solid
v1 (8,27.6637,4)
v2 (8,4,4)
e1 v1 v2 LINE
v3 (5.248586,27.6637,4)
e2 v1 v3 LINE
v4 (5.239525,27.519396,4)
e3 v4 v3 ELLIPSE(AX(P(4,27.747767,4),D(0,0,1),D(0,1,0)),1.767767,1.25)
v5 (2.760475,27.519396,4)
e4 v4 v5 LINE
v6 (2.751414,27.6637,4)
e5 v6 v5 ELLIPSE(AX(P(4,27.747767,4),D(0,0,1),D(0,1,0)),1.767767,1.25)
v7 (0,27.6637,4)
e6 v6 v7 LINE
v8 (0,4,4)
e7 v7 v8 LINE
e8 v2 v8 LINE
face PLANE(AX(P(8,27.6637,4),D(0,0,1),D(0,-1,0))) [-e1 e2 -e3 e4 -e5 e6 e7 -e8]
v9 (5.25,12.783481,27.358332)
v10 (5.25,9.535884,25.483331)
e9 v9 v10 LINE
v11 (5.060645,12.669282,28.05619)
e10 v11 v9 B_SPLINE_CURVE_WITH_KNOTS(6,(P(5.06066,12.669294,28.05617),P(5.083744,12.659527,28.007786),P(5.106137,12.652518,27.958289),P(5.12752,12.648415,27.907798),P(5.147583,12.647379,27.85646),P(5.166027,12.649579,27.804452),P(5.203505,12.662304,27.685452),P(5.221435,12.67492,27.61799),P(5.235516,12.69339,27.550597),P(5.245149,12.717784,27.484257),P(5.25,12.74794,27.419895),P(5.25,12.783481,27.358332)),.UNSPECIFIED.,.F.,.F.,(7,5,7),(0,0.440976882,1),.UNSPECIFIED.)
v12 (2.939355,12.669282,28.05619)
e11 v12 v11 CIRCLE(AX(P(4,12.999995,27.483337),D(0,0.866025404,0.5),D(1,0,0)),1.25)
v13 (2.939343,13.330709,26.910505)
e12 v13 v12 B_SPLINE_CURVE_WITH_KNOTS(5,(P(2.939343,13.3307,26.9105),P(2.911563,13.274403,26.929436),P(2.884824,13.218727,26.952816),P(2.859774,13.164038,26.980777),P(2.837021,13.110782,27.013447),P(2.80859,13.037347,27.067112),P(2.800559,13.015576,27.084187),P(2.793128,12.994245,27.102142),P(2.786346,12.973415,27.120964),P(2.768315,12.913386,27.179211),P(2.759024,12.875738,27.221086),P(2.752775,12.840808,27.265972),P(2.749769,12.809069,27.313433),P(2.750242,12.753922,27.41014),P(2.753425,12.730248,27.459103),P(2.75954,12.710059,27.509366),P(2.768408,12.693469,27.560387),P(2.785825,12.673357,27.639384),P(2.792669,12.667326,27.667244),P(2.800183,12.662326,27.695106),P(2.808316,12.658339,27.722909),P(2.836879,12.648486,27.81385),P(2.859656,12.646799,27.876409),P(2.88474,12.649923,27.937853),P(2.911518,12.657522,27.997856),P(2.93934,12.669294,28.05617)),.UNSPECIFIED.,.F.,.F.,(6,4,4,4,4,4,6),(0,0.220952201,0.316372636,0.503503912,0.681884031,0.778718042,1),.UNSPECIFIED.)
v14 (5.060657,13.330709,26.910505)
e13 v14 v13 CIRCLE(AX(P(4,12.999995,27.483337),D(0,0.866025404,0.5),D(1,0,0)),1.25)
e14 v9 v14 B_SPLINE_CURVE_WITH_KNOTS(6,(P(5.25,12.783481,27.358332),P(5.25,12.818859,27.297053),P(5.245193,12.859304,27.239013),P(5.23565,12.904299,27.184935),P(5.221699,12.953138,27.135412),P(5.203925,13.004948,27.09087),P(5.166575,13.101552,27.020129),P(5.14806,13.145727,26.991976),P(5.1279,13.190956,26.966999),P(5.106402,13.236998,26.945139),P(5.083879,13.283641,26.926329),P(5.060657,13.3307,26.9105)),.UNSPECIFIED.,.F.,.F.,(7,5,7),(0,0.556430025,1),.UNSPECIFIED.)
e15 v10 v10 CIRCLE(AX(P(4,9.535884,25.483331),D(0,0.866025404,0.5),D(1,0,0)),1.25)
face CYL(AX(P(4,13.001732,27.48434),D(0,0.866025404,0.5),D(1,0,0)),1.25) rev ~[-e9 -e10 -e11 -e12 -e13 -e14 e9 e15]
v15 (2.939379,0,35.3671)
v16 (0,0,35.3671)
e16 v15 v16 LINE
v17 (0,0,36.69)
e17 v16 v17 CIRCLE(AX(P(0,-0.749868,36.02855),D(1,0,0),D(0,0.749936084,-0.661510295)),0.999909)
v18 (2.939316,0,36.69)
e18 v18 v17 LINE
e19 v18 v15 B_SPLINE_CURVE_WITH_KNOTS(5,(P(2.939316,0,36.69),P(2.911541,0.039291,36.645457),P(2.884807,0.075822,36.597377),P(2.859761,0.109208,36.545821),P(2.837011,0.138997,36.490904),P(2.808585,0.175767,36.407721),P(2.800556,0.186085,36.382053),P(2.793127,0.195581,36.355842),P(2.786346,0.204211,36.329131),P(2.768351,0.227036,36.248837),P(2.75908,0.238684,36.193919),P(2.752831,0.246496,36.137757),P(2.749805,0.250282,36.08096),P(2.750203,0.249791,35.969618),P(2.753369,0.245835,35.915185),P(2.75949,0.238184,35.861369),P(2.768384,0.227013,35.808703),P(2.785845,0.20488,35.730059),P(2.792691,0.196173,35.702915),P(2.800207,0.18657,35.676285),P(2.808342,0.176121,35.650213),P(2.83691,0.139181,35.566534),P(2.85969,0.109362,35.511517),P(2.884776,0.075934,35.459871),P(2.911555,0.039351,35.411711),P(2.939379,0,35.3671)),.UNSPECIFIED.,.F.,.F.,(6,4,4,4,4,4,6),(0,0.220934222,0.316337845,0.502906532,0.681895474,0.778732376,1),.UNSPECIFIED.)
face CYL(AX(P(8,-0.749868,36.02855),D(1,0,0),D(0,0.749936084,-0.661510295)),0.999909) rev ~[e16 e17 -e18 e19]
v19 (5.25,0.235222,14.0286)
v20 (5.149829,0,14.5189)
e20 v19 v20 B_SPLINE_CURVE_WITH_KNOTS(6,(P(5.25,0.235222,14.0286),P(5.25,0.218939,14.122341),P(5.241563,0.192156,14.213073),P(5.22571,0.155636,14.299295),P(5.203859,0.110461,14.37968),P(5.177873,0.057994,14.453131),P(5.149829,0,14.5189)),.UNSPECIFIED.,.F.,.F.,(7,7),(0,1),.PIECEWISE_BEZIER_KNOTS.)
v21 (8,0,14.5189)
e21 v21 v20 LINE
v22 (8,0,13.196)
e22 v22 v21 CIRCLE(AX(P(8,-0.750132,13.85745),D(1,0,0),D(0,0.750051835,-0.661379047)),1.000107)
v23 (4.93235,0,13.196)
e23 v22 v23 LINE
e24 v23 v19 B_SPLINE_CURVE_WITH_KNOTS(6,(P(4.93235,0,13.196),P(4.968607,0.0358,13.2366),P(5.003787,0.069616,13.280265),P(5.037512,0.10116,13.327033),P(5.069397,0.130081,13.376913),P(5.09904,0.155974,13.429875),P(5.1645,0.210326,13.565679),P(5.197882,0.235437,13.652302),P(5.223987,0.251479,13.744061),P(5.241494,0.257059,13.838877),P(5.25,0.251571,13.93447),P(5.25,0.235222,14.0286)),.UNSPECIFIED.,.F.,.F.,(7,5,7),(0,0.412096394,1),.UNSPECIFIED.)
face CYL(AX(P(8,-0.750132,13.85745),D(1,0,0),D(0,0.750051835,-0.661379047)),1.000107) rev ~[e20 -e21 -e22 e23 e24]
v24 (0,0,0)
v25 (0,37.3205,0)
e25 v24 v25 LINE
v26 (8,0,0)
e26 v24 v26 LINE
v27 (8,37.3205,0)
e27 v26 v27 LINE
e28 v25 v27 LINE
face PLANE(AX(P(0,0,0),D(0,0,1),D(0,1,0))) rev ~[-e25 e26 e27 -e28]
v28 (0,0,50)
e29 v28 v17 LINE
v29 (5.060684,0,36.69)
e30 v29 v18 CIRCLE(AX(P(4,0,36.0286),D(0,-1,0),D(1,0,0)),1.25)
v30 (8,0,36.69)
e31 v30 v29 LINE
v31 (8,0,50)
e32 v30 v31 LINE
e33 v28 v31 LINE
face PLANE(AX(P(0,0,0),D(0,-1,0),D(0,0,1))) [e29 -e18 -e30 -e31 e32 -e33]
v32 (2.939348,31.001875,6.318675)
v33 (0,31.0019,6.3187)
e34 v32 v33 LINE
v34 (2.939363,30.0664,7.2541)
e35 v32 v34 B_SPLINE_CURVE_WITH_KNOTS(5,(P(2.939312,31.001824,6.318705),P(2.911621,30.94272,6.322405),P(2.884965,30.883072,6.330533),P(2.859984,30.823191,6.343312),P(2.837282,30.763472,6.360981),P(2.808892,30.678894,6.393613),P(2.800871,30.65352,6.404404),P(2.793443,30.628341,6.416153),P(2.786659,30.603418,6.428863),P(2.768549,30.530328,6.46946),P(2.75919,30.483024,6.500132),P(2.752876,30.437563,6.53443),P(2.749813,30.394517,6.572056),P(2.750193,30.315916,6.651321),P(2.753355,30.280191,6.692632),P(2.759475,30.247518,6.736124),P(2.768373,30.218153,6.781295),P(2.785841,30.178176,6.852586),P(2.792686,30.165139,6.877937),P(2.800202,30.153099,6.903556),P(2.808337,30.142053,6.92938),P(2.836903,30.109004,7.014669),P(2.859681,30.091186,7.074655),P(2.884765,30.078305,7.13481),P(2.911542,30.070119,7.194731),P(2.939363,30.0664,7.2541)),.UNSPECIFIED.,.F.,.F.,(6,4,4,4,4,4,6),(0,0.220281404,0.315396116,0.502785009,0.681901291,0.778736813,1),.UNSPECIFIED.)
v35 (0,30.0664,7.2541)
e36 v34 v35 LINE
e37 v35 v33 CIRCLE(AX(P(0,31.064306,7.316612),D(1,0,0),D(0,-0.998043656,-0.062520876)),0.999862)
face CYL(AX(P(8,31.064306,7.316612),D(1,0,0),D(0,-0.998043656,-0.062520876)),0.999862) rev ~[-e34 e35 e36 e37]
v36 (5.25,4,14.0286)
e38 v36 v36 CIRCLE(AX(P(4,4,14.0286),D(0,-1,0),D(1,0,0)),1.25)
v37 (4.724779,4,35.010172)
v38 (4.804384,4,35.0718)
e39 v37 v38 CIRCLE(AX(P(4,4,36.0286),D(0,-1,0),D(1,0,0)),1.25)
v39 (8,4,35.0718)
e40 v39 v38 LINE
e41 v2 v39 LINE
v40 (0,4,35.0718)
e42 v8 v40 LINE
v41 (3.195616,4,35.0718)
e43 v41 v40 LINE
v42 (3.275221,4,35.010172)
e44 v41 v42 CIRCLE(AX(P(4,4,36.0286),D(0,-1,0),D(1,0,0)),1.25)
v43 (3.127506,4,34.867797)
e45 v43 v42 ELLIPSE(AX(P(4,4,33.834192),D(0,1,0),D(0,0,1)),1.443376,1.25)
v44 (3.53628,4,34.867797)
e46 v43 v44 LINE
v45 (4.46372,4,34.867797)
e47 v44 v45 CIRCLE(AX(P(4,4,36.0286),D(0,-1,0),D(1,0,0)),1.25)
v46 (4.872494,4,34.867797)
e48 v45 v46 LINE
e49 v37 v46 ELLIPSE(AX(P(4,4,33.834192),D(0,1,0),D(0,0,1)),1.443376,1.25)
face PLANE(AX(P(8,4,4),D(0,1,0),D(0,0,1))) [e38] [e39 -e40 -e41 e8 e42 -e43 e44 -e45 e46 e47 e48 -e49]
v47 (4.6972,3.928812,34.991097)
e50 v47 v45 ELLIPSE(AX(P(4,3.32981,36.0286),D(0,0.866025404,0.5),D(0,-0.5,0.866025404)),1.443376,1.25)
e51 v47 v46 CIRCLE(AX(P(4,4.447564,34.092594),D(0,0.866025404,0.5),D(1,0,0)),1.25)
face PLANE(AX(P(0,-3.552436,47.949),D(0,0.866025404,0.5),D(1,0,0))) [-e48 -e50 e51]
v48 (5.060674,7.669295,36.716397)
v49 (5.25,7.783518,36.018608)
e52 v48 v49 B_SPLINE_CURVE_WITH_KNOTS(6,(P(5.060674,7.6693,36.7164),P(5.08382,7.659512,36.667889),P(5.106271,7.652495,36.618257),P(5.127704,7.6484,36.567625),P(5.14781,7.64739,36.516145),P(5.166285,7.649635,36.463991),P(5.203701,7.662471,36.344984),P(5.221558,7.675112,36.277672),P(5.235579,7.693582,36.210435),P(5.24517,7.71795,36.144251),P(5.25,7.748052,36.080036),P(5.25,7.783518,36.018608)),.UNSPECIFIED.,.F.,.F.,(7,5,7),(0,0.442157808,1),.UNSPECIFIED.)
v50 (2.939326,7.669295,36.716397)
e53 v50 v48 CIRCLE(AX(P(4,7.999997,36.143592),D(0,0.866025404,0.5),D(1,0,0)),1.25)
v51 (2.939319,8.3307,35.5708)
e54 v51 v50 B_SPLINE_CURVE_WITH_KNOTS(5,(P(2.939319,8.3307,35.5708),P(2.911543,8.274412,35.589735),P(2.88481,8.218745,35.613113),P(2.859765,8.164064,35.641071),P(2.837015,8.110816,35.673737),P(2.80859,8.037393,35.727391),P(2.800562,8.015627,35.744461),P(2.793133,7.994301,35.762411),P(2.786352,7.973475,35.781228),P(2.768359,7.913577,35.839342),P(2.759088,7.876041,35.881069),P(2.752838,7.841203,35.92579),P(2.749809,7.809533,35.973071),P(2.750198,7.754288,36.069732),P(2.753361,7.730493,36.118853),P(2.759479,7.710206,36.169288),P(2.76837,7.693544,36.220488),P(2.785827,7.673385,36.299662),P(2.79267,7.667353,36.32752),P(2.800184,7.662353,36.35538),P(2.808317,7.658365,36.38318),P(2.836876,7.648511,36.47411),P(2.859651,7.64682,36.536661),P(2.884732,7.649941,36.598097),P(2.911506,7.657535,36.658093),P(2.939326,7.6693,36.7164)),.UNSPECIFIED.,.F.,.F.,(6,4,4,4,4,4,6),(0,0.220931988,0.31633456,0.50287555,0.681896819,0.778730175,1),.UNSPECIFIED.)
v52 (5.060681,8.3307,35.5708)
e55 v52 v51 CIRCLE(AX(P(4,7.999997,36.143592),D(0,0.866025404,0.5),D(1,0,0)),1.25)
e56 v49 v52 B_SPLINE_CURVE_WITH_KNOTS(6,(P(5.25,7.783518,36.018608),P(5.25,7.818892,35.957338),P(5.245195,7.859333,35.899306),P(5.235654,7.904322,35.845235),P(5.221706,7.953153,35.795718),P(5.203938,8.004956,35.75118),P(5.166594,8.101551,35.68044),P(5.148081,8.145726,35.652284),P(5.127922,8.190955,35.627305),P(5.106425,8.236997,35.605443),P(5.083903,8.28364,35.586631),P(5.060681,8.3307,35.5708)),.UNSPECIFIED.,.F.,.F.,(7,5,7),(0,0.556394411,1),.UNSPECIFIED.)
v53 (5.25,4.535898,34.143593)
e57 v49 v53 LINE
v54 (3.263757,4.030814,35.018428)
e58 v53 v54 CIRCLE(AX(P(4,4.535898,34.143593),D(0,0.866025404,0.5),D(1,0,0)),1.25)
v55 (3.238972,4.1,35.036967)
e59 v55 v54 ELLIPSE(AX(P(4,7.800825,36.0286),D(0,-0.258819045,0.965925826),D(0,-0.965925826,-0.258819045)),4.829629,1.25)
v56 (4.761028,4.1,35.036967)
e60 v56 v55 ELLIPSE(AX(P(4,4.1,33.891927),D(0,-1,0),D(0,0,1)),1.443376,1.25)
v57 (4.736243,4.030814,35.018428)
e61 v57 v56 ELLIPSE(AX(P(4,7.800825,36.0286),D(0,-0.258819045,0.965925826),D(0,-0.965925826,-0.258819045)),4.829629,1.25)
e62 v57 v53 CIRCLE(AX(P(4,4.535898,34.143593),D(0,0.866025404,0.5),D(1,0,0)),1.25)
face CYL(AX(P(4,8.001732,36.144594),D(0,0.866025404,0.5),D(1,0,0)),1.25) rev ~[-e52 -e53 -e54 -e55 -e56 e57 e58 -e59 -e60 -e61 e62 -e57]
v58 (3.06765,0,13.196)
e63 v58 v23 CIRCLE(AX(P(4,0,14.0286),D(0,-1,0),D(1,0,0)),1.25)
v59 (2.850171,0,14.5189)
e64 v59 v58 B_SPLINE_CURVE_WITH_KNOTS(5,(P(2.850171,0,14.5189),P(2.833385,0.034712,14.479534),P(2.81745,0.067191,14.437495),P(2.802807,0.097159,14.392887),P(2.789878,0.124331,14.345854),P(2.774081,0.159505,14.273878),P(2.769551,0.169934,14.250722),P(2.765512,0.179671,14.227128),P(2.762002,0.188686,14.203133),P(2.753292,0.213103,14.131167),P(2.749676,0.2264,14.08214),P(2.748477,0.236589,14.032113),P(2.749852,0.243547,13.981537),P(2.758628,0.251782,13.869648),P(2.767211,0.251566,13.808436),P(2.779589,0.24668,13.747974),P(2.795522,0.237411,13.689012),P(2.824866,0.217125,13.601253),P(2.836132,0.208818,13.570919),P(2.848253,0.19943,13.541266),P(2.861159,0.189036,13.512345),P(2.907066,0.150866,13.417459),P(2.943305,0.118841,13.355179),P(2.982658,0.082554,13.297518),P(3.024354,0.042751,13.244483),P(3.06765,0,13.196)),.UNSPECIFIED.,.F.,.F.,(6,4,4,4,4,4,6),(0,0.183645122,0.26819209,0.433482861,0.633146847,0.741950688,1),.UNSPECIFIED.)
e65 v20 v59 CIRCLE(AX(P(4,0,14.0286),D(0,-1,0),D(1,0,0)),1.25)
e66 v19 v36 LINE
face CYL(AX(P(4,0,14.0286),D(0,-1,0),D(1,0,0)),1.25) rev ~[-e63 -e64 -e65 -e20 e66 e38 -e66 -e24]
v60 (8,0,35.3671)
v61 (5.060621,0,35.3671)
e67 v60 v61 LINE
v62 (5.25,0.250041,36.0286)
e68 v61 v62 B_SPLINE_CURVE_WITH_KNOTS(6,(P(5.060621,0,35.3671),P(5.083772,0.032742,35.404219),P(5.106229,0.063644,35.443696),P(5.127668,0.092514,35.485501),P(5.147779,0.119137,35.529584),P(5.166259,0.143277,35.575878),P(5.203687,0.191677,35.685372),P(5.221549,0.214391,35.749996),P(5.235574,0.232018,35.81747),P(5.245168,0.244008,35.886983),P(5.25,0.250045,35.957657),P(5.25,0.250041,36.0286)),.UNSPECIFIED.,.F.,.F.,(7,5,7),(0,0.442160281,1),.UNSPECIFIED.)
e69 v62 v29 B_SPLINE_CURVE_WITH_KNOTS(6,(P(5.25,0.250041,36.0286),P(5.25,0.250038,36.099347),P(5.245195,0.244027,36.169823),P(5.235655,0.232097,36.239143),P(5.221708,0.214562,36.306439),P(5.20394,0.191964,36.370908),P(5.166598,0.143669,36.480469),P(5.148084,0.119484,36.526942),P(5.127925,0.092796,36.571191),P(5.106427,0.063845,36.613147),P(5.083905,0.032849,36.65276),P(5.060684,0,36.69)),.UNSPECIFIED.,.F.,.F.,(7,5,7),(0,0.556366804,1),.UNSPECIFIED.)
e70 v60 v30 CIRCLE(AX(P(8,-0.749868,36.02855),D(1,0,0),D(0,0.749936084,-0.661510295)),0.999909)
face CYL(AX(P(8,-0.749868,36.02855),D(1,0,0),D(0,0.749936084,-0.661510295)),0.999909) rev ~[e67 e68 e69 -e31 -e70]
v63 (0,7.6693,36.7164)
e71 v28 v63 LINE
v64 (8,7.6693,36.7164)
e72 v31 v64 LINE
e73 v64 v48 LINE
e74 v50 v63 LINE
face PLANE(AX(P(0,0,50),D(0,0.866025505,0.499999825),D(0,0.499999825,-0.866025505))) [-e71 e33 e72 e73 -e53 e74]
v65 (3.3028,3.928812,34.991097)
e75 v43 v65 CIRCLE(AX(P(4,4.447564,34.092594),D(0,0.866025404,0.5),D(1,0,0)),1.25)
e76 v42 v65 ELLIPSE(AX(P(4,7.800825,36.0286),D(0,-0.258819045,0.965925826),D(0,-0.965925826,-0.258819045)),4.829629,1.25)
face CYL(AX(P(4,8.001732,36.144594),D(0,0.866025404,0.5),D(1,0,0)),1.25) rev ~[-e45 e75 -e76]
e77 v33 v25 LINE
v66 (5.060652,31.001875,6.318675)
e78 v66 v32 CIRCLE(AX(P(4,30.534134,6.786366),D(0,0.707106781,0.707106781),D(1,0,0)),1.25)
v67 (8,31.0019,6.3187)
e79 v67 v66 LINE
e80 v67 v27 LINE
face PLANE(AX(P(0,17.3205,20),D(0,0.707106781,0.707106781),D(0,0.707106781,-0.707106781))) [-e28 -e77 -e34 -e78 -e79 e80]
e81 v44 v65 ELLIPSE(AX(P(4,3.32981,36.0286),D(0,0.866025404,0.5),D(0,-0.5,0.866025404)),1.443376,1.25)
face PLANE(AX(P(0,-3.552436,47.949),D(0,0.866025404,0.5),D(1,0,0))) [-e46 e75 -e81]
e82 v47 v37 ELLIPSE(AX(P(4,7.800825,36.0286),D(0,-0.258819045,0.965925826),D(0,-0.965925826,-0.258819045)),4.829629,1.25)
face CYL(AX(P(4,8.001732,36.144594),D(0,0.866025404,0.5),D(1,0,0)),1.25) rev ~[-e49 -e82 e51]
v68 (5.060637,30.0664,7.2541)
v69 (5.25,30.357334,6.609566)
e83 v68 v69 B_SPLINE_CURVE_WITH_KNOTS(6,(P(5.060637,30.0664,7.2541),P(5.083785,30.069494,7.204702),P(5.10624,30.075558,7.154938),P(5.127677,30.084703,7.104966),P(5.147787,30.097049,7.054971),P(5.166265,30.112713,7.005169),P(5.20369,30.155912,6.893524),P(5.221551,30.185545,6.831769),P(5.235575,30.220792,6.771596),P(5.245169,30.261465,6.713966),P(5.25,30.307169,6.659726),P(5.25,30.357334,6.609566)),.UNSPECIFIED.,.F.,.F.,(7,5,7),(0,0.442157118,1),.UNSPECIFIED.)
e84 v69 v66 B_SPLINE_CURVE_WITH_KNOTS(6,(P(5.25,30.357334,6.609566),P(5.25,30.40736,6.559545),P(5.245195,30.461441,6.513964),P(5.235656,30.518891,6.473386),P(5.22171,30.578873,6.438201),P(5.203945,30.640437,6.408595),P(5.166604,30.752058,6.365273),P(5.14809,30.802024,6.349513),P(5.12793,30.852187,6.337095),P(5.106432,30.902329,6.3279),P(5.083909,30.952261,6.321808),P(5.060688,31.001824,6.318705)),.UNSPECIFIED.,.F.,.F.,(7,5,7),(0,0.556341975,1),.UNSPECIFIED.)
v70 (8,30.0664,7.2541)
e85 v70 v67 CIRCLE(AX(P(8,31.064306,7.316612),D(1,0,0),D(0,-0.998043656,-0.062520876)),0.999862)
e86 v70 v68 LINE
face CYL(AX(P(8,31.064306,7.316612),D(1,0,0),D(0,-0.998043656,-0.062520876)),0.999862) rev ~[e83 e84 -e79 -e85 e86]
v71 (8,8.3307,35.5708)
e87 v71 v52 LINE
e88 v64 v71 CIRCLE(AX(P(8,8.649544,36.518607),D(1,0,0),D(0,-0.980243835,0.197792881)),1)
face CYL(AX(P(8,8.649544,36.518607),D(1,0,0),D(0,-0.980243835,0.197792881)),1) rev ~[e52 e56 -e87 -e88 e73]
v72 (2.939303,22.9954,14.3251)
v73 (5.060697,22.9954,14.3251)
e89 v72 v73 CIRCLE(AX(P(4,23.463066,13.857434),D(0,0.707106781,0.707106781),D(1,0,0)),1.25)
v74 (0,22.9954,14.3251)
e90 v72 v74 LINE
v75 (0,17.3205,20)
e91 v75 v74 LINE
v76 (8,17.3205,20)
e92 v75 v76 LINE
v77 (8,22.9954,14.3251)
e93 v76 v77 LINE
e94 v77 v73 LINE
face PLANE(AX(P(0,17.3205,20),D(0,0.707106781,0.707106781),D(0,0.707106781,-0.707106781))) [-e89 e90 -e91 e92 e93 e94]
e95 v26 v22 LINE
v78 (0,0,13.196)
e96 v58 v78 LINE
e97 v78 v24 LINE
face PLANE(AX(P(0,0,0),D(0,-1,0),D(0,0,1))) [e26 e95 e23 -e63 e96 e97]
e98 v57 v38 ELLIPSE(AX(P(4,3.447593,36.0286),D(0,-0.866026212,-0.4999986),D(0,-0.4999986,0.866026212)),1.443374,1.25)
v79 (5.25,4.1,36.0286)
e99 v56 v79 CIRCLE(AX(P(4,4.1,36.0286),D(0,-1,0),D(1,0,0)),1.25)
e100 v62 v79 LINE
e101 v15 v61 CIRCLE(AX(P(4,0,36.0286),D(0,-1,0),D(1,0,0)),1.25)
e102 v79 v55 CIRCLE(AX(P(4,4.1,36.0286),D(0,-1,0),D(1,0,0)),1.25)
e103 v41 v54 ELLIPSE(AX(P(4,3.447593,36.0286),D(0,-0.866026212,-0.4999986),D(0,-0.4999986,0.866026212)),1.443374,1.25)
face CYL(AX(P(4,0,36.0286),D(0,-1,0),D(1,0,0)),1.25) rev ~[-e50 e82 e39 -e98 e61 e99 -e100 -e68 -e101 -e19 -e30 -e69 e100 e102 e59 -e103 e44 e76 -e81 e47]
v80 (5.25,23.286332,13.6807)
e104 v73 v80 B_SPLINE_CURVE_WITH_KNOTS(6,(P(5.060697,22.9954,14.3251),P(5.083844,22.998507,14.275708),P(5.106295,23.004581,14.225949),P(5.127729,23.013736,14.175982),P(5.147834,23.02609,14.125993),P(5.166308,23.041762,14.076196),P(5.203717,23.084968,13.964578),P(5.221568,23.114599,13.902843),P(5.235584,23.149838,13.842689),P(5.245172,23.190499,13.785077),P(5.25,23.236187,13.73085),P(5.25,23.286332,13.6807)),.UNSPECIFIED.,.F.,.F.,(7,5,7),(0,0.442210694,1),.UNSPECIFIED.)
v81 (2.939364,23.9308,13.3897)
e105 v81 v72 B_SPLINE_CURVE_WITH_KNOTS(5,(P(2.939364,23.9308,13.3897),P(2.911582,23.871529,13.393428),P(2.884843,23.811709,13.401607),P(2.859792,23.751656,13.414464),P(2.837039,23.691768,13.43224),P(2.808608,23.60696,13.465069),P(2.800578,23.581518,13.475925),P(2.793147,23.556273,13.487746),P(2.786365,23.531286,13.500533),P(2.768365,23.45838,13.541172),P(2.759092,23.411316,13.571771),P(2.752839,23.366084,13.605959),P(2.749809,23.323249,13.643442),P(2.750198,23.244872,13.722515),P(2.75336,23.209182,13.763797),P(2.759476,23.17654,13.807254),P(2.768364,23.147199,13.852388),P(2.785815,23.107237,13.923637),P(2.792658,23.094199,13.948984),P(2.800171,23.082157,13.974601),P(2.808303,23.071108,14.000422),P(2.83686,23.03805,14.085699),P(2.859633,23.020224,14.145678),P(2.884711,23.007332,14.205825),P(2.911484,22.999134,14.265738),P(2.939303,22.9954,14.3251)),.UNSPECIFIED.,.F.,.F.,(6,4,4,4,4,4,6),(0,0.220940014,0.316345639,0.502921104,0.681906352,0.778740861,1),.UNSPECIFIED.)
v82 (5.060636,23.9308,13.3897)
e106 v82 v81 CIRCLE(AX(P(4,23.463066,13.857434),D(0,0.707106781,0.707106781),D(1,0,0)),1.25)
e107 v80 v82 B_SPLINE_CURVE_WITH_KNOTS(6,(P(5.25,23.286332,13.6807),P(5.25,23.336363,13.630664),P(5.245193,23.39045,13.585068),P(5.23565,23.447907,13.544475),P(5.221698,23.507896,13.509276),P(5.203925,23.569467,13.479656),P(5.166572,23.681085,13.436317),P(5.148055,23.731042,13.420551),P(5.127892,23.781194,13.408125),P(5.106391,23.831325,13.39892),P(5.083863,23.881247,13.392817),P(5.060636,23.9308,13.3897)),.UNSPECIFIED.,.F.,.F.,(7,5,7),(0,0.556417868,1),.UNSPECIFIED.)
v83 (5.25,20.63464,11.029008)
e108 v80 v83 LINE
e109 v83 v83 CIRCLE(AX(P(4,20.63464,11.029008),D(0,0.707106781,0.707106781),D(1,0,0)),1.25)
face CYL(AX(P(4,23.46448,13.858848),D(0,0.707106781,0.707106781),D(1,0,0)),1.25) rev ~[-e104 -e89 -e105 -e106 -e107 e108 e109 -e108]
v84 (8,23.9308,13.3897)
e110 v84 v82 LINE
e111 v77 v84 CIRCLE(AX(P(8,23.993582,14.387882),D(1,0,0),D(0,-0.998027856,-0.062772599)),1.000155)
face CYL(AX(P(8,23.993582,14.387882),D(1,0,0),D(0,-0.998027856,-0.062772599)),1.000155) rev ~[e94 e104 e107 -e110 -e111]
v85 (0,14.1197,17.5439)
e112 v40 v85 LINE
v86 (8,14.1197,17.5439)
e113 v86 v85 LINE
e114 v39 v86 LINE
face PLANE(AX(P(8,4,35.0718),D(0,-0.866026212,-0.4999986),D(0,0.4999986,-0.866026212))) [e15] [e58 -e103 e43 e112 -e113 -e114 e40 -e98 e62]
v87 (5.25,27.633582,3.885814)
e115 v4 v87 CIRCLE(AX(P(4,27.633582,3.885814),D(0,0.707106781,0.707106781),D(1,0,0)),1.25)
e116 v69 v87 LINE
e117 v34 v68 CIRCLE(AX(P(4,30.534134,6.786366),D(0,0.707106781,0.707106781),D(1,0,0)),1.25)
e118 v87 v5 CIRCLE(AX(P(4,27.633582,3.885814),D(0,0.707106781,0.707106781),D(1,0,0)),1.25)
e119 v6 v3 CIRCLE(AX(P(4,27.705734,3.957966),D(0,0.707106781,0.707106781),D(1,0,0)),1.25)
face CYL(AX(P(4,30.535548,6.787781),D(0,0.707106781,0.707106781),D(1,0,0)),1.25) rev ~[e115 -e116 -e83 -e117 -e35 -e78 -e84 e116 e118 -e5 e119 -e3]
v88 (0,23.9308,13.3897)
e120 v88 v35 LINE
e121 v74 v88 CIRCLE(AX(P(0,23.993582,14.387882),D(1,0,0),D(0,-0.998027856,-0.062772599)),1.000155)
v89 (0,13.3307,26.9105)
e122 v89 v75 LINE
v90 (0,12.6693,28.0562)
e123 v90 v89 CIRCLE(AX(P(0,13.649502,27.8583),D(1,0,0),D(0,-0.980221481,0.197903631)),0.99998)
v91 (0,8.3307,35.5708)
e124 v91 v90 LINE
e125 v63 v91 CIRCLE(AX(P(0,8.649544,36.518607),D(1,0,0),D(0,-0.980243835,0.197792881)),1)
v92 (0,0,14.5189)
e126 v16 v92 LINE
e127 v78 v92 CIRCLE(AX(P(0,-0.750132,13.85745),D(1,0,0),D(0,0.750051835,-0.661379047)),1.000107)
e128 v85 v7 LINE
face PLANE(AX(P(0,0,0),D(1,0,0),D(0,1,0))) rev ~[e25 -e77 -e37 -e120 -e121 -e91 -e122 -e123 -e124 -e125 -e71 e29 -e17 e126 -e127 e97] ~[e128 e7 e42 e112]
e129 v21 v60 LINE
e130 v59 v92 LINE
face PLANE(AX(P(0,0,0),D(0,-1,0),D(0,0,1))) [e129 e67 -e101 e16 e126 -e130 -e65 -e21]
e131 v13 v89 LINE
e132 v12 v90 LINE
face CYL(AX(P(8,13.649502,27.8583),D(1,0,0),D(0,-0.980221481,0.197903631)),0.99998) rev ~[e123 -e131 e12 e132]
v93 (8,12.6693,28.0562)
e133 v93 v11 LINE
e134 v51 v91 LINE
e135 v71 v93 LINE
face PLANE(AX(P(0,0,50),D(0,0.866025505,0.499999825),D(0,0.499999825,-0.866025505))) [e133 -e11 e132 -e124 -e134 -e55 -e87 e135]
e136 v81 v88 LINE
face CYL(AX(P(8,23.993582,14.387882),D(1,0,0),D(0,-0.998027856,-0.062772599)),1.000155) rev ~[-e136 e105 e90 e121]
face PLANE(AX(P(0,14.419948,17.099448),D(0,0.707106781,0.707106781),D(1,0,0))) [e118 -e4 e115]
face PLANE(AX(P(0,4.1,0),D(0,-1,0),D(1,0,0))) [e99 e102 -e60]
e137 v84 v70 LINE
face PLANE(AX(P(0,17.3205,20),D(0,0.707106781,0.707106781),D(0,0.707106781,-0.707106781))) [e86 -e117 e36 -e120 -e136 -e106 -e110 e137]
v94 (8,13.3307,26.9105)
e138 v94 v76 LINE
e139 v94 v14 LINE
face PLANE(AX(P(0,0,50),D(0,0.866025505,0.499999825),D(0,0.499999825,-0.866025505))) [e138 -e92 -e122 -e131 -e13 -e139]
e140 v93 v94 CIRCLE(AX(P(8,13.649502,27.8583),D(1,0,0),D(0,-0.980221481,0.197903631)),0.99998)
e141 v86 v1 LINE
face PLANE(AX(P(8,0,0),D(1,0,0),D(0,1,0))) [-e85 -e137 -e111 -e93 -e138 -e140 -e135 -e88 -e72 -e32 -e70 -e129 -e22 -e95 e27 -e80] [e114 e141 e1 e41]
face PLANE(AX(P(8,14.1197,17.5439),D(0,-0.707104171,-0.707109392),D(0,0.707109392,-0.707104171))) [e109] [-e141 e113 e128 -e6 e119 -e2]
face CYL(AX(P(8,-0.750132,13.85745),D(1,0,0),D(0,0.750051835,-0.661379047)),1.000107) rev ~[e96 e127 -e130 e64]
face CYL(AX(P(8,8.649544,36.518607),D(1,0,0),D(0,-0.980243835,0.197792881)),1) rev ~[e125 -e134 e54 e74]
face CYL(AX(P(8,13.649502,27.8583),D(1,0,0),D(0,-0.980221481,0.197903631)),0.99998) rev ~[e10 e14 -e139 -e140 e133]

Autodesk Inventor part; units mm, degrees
ref_plane "YZ Plane" through (0, 0, 0) normal (1, 0, 0) x (0, 1, 0)
ref_plane "XZ Plane" through (0, 0, 0) normal (0, 1, 0) x (-1, 0, 0)
ref_plane "XY Plane" through (0, 0, 0) normal (0, 0, 1) x (1, 0, 0)
sketch "스케치1" plane through (0, 0, 0) normal (1, 0, 0) x (0, 1, 0)
  line L0 (0, 0) -> (0, 20)
  line L1 (0, 20) -> (0, 50)
  line L2 (0, 0) -> (37.3205, 0)
  line L3 (0, 20) -> (17.3205, 20)
  line L4 (0, 50) -> (17.3205, 20)
  line L5 (0, 50) -> (34.641, 50) construction
  line L6 (17.3205, 20) -> (37.3205, 0)
  line L7 (17.3205, 20) -> (45.6048, 20) construction
  dimension "d0" = 20
  dimension "d1" = 30
  dimension "d2" = 60
  dimension "d3" = 45
extrude "돌출1" add sketch "스케치1" along normal blind 8
sketch "스케치2" plane through (8, 0, 0) normal (1, 0, 0) x (0, 0, -1)
  line L0 (-20, 17.3205) -> (-50, 0) projected
  line L1 (-50, 0) -> (0, 0) projected
  line L2 (0, 0) -> (0, 37.3205) projected
  line L3 (0, 37.3205) -> (-20, 17.3205) projected
  line L4 (-35.0718, 4) -> (-17.5439, 14.1197)
  line L5 (-17.5439, 14.1197) -> (-4, 27.6637)
  line L6 (-4, 27.6637) -> (-4, 4)
  line L7 (-4, 4) -> (-35.0718, 4)
  dimension "d6" = 4
extrude "돌출2" cut sketch "스케치2" against normal blind 8 contours L4 L5 L6 L7
sketch "스케치5" plane through (0, 0, 0) normal (0, -1, 0) x (1, 0, 0)
  arc A0 (157.7, 33) -> (156.7, 34) centre (156.7, 33) ccw projected
  line L0 (157.7, 33) -> (157.7, 24) projected
  arc A1 (156.7, 23) -> (157.7, 24) centre (156.7, 24) ccw projected
  line L1 (156.7, 23) -> (136.7, 23) projected
  arc A2 (135.7, 24) -> (136.7, 23) centre (136.7, 24) ccw projected
  line L2 (135.7, 24) -> (135.7, 33) projected
  arc A3 (136.7, 34) -> (135.7, 33) centre (136.7, 33) ccw projected
  line L3 (136.7, 34) -> (156.7, 34) projected
  arc A4 (-61.9, 33) -> (-62.9, 34) centre (-62.9, 33) ccw projected
  line L4 (-61.9, 33) -> (-61.9, 24) projected
  arc A5 (-62.9, 23) -> (-61.9, 24) centre (-62.9, 24) ccw projected
  line L5 (-62.9, 23) -> (-82.9, 23) projected
  arc A6 (-83.9, 24) -> (-82.9, 23) centre (-82.9, 24) ccw projected
  line L6 (-83.9, 24) -> (-83.9, 33) projected
  arc A7 (-82.9, 34) -> (-83.9, 33) centre (-82.9, 33) ccw projected
  line L7 (-82.9, 34) -> (-62.9, 34) projected
  arc A8 (-61.9, -244) -> (-62.9, -243) centre (-62.9, -244) ccw projected
  line L8 (-61.9, -244) -> (-61.9, -253) projected
  arc A9 (-62.9, -254) -> (-61.9, -253) centre (-62.9, -253) ccw projected
  line L9 (-62.9, -254) -> (-82.9, -254) projected
  arc A10 (-83.9, -253) -> (-82.9, -254) centre (-82.9, -253) ccw projected
  line L10 (-83.9, -253) -> (-83.9, -244) projected
  arc A11 (-82.9, -243) -> (-83.9, -244) centre (-82.9, -244) ccw projected
  line L11 (-82.9, -243) -> (-62.9, -243) projected
  arc A12 (136.7, -243) -> (135.7, -244) centre (136.7, -244) ccw projected
  line L12 (136.7, -243) -> (156.7, -243) projected
  arc A13 (157.7, -244) -> (156.7, -243) centre (156.7, -244) ccw projected
  line L13 (157.7, -244) -> (157.7, -253) projected
  arc A14 (156.7, -254) -> (157.7, -253) centre (156.7, -253) ccw projected
  line L14 (156.7, -254) -> (136.7, -254) projected
  arc A15 (135.7, -253) -> (136.7, -254) centre (136.7, -253) ccw projected
  line L15 (135.7, -253) -> (135.7, -244) projected
  line L16 (-98.1, 40) -> (171.9, 40) projected
  line L17 (-98.1, 0) -> (-98.1, 40) projected
  line L18 (-58.1, 0) -> (-98.1, 0) projected
  line L19 (-58.1, -220) -> (-58.1, 0) projected
  line L20 (-98.1, -220) -> (-58.1, -220) projected
  line L21 (-98.1, -260) -> (-98.1, -220) projected
  line L22 (171.9, -260) -> (-98.1, -260) projected
  line L23 (171.9, -220) -> (171.9, -260) projected
  line L24 (131.9, -220) -> (171.9, -220) projected
  line L25 (131.9, 0) -> (131.9, -220) projected
  line L26 (171.9, 0) -> (131.9, 0) projected
  line L27 (171.9, 40) -> (171.9, 0) projected
  circle A16 centre (4, 14.0286) radius 1.25
  circle A17 centre (4, 36.0286) radius 1.25
  point P0 (0, 0)
  dimension "d17" = 2.5
  dimension "d18" = 2.5
extrude "돌출5" cut sketch "스케치5" against normal blind 4.1 contours A16 | A17
sketch "스케치8" plane through (0, 17.3205, 20) normal (0, 0.7071, 0.7071) x (1, 0, 0)
  circle A0 centre (4, 8.6869) radius 1.5
  circle A1 centre (4, 18.6869) radius 1.5
  circle A2 centre (4, 18.6869) radius 1.25
  circle A3 centre (4, 8.6869) radius 1.25
  point P0 (0, 1.8947)
  dimension "d35" = 2.5
  dimension "d36" = 2.5
extrude "돌출7" cut sketch "스케치8" against normal blind 4.1 contours A2 | A3
sketch "스케치9" plane through (0, 0, 50) normal (0, 0.866, 0.5) x (1, 0, 0)
  circle A0 centre (4, 26) radius 1.5
  circle A1 centre (4, 16) radius 1.5
  circle A2 centre (4, 26) radius 1.25
  circle A3 centre (4, 16) radius 1.25
  point P0 (0, 43.3013)
  dimension "d39" = 2.5
  dimension "d40" = 2.5
extrude "돌출8" cut sketch "스케치9" against normal blind 4.1 contours A2 | A3
sketch "스케치10" plane through (8, 0, 0) normal (1, 0, 0) x (0, 0, -1)
  line L0 (-35.037, 4.1) -> (-35.037, 4.1) projected
  line L1 (-35.0184, 4.0308) -> (-35.037, 4.1) projected
  line L2 (-35.0184, 4.0308) -> (-35.0184, 4.0308) projected
  line L3 (-35.037, 4.1) -> (-35.0184, 4.0308) projected
  line L4 (-37.2261, 7.375) -> (-35.0611, 8.625) projected
  line L5 (-24.4008, 10.1609) -> (-26.5659, 8.9109) projected
  line L6 (-28.5659, 12.375) -> (-26.4008, 13.625) projected
  line L7 (-10.1451, 21.5185) -> (-11.9129, 19.7508) projected
  line L8 (-14.7413, 22.5792) -> (-12.9735, 24.347) projected
  line L9 (-7.6702, 29.6503) -> (-5.9025, 31.418) projected
  line L10 (-4, 27.5222) -> (-4, 27.6637) projected
  line L11 (-4, 27.5222) -> (-4, 27.5222) projected
  line L12 (-4, 27.6637) -> (-4, 27.5222) projected
  line L13 (-4, 27.6637) -> (-4, 27.6637) projected
  line L14 (-15.2786, 4) -> (-12.7786, 4) projected
  line L15 (-12.7786, 0) -> (-15.2786, 0) projected
  line L16 (-35.037, 4.1) -> (-35.0184, 4.0308) projected
  line L17 (-35.0718, 4) -> (-35.0184, 4.0308) projected
  line L18 (-35.0102, 4) -> (-35.0718, 4) projected
  line L19 (-35.0102, 4) -> (-34.9916, 3.9308) projected
  line L20 (-34.9916, 3.9308) -> (-34.8718, 4) projected
  line L21 (-34.8718, 4) -> (-34.8718, 4) projected
  line L22 (-34.8718, 4) -> (-34.9916, 3.9308) projected
  line L23 (-34.9916, 3.9308) -> (-35.0102, 4) projected
  line L24 (-35.0718, 4) -> (-35.0102, 4) projected
  line L25 (-35.0184, 4.0308) -> (-35.0718, 4) projected
  line L26 (-35.0184, 4.0308) -> (-35.037, 4.1) projected
  line L27 (-35.037, 4.1) -> (-35.037, 4.1) projected
  line L28 (-34.7786, 0) -> (-37.2786, 0) projected
  arc A0 (-36.7164, 7.6693) -> (-35.5708, 8.3307) centre (-36.5186, 8.6495) ccw
  arc A1 (-28.0562, 12.6693) -> (-26.9105, 13.3307) centre (-27.8583, 13.6495) ccw
  arc A2 (-14.3251, 22.9954) -> (-13.3897, 23.9308) centre (-14.3878, 23.9934) ccw
  arc A3 (-7.2541, 30.0664) -> (-6.3187, 31.0019) centre (-7.3167, 31.0645) ccw
  arc A4 (-13.196, 0) -> (-14.5189, 0) centre (-13.8574, -0.75) ccw
  arc A5 (-35.3671, 0) -> (-36.69, 0) centre (-36.0286, -0.75) ccw
  point P0 (0, 0)
  dimension "d43" = 2
  dimension "d44" = 2
  dimension "d45" = 2
  dimension "d46" = 2
  dimension "d47" = 2
  dimension "d48" = 2
  dimension "d49" = 0.75
  dimension "d50" = 0.75
  dimension "d51" = 0.75
  dimension "d52" = 0.75
  dimension "d53" = 0.75
  dimension "d54" = 0.75
extrude "돌출9" cut sketch "스케치10" against normal blind 8
properties part number "칼팁중간받침대" material "알루미늄 6061"
